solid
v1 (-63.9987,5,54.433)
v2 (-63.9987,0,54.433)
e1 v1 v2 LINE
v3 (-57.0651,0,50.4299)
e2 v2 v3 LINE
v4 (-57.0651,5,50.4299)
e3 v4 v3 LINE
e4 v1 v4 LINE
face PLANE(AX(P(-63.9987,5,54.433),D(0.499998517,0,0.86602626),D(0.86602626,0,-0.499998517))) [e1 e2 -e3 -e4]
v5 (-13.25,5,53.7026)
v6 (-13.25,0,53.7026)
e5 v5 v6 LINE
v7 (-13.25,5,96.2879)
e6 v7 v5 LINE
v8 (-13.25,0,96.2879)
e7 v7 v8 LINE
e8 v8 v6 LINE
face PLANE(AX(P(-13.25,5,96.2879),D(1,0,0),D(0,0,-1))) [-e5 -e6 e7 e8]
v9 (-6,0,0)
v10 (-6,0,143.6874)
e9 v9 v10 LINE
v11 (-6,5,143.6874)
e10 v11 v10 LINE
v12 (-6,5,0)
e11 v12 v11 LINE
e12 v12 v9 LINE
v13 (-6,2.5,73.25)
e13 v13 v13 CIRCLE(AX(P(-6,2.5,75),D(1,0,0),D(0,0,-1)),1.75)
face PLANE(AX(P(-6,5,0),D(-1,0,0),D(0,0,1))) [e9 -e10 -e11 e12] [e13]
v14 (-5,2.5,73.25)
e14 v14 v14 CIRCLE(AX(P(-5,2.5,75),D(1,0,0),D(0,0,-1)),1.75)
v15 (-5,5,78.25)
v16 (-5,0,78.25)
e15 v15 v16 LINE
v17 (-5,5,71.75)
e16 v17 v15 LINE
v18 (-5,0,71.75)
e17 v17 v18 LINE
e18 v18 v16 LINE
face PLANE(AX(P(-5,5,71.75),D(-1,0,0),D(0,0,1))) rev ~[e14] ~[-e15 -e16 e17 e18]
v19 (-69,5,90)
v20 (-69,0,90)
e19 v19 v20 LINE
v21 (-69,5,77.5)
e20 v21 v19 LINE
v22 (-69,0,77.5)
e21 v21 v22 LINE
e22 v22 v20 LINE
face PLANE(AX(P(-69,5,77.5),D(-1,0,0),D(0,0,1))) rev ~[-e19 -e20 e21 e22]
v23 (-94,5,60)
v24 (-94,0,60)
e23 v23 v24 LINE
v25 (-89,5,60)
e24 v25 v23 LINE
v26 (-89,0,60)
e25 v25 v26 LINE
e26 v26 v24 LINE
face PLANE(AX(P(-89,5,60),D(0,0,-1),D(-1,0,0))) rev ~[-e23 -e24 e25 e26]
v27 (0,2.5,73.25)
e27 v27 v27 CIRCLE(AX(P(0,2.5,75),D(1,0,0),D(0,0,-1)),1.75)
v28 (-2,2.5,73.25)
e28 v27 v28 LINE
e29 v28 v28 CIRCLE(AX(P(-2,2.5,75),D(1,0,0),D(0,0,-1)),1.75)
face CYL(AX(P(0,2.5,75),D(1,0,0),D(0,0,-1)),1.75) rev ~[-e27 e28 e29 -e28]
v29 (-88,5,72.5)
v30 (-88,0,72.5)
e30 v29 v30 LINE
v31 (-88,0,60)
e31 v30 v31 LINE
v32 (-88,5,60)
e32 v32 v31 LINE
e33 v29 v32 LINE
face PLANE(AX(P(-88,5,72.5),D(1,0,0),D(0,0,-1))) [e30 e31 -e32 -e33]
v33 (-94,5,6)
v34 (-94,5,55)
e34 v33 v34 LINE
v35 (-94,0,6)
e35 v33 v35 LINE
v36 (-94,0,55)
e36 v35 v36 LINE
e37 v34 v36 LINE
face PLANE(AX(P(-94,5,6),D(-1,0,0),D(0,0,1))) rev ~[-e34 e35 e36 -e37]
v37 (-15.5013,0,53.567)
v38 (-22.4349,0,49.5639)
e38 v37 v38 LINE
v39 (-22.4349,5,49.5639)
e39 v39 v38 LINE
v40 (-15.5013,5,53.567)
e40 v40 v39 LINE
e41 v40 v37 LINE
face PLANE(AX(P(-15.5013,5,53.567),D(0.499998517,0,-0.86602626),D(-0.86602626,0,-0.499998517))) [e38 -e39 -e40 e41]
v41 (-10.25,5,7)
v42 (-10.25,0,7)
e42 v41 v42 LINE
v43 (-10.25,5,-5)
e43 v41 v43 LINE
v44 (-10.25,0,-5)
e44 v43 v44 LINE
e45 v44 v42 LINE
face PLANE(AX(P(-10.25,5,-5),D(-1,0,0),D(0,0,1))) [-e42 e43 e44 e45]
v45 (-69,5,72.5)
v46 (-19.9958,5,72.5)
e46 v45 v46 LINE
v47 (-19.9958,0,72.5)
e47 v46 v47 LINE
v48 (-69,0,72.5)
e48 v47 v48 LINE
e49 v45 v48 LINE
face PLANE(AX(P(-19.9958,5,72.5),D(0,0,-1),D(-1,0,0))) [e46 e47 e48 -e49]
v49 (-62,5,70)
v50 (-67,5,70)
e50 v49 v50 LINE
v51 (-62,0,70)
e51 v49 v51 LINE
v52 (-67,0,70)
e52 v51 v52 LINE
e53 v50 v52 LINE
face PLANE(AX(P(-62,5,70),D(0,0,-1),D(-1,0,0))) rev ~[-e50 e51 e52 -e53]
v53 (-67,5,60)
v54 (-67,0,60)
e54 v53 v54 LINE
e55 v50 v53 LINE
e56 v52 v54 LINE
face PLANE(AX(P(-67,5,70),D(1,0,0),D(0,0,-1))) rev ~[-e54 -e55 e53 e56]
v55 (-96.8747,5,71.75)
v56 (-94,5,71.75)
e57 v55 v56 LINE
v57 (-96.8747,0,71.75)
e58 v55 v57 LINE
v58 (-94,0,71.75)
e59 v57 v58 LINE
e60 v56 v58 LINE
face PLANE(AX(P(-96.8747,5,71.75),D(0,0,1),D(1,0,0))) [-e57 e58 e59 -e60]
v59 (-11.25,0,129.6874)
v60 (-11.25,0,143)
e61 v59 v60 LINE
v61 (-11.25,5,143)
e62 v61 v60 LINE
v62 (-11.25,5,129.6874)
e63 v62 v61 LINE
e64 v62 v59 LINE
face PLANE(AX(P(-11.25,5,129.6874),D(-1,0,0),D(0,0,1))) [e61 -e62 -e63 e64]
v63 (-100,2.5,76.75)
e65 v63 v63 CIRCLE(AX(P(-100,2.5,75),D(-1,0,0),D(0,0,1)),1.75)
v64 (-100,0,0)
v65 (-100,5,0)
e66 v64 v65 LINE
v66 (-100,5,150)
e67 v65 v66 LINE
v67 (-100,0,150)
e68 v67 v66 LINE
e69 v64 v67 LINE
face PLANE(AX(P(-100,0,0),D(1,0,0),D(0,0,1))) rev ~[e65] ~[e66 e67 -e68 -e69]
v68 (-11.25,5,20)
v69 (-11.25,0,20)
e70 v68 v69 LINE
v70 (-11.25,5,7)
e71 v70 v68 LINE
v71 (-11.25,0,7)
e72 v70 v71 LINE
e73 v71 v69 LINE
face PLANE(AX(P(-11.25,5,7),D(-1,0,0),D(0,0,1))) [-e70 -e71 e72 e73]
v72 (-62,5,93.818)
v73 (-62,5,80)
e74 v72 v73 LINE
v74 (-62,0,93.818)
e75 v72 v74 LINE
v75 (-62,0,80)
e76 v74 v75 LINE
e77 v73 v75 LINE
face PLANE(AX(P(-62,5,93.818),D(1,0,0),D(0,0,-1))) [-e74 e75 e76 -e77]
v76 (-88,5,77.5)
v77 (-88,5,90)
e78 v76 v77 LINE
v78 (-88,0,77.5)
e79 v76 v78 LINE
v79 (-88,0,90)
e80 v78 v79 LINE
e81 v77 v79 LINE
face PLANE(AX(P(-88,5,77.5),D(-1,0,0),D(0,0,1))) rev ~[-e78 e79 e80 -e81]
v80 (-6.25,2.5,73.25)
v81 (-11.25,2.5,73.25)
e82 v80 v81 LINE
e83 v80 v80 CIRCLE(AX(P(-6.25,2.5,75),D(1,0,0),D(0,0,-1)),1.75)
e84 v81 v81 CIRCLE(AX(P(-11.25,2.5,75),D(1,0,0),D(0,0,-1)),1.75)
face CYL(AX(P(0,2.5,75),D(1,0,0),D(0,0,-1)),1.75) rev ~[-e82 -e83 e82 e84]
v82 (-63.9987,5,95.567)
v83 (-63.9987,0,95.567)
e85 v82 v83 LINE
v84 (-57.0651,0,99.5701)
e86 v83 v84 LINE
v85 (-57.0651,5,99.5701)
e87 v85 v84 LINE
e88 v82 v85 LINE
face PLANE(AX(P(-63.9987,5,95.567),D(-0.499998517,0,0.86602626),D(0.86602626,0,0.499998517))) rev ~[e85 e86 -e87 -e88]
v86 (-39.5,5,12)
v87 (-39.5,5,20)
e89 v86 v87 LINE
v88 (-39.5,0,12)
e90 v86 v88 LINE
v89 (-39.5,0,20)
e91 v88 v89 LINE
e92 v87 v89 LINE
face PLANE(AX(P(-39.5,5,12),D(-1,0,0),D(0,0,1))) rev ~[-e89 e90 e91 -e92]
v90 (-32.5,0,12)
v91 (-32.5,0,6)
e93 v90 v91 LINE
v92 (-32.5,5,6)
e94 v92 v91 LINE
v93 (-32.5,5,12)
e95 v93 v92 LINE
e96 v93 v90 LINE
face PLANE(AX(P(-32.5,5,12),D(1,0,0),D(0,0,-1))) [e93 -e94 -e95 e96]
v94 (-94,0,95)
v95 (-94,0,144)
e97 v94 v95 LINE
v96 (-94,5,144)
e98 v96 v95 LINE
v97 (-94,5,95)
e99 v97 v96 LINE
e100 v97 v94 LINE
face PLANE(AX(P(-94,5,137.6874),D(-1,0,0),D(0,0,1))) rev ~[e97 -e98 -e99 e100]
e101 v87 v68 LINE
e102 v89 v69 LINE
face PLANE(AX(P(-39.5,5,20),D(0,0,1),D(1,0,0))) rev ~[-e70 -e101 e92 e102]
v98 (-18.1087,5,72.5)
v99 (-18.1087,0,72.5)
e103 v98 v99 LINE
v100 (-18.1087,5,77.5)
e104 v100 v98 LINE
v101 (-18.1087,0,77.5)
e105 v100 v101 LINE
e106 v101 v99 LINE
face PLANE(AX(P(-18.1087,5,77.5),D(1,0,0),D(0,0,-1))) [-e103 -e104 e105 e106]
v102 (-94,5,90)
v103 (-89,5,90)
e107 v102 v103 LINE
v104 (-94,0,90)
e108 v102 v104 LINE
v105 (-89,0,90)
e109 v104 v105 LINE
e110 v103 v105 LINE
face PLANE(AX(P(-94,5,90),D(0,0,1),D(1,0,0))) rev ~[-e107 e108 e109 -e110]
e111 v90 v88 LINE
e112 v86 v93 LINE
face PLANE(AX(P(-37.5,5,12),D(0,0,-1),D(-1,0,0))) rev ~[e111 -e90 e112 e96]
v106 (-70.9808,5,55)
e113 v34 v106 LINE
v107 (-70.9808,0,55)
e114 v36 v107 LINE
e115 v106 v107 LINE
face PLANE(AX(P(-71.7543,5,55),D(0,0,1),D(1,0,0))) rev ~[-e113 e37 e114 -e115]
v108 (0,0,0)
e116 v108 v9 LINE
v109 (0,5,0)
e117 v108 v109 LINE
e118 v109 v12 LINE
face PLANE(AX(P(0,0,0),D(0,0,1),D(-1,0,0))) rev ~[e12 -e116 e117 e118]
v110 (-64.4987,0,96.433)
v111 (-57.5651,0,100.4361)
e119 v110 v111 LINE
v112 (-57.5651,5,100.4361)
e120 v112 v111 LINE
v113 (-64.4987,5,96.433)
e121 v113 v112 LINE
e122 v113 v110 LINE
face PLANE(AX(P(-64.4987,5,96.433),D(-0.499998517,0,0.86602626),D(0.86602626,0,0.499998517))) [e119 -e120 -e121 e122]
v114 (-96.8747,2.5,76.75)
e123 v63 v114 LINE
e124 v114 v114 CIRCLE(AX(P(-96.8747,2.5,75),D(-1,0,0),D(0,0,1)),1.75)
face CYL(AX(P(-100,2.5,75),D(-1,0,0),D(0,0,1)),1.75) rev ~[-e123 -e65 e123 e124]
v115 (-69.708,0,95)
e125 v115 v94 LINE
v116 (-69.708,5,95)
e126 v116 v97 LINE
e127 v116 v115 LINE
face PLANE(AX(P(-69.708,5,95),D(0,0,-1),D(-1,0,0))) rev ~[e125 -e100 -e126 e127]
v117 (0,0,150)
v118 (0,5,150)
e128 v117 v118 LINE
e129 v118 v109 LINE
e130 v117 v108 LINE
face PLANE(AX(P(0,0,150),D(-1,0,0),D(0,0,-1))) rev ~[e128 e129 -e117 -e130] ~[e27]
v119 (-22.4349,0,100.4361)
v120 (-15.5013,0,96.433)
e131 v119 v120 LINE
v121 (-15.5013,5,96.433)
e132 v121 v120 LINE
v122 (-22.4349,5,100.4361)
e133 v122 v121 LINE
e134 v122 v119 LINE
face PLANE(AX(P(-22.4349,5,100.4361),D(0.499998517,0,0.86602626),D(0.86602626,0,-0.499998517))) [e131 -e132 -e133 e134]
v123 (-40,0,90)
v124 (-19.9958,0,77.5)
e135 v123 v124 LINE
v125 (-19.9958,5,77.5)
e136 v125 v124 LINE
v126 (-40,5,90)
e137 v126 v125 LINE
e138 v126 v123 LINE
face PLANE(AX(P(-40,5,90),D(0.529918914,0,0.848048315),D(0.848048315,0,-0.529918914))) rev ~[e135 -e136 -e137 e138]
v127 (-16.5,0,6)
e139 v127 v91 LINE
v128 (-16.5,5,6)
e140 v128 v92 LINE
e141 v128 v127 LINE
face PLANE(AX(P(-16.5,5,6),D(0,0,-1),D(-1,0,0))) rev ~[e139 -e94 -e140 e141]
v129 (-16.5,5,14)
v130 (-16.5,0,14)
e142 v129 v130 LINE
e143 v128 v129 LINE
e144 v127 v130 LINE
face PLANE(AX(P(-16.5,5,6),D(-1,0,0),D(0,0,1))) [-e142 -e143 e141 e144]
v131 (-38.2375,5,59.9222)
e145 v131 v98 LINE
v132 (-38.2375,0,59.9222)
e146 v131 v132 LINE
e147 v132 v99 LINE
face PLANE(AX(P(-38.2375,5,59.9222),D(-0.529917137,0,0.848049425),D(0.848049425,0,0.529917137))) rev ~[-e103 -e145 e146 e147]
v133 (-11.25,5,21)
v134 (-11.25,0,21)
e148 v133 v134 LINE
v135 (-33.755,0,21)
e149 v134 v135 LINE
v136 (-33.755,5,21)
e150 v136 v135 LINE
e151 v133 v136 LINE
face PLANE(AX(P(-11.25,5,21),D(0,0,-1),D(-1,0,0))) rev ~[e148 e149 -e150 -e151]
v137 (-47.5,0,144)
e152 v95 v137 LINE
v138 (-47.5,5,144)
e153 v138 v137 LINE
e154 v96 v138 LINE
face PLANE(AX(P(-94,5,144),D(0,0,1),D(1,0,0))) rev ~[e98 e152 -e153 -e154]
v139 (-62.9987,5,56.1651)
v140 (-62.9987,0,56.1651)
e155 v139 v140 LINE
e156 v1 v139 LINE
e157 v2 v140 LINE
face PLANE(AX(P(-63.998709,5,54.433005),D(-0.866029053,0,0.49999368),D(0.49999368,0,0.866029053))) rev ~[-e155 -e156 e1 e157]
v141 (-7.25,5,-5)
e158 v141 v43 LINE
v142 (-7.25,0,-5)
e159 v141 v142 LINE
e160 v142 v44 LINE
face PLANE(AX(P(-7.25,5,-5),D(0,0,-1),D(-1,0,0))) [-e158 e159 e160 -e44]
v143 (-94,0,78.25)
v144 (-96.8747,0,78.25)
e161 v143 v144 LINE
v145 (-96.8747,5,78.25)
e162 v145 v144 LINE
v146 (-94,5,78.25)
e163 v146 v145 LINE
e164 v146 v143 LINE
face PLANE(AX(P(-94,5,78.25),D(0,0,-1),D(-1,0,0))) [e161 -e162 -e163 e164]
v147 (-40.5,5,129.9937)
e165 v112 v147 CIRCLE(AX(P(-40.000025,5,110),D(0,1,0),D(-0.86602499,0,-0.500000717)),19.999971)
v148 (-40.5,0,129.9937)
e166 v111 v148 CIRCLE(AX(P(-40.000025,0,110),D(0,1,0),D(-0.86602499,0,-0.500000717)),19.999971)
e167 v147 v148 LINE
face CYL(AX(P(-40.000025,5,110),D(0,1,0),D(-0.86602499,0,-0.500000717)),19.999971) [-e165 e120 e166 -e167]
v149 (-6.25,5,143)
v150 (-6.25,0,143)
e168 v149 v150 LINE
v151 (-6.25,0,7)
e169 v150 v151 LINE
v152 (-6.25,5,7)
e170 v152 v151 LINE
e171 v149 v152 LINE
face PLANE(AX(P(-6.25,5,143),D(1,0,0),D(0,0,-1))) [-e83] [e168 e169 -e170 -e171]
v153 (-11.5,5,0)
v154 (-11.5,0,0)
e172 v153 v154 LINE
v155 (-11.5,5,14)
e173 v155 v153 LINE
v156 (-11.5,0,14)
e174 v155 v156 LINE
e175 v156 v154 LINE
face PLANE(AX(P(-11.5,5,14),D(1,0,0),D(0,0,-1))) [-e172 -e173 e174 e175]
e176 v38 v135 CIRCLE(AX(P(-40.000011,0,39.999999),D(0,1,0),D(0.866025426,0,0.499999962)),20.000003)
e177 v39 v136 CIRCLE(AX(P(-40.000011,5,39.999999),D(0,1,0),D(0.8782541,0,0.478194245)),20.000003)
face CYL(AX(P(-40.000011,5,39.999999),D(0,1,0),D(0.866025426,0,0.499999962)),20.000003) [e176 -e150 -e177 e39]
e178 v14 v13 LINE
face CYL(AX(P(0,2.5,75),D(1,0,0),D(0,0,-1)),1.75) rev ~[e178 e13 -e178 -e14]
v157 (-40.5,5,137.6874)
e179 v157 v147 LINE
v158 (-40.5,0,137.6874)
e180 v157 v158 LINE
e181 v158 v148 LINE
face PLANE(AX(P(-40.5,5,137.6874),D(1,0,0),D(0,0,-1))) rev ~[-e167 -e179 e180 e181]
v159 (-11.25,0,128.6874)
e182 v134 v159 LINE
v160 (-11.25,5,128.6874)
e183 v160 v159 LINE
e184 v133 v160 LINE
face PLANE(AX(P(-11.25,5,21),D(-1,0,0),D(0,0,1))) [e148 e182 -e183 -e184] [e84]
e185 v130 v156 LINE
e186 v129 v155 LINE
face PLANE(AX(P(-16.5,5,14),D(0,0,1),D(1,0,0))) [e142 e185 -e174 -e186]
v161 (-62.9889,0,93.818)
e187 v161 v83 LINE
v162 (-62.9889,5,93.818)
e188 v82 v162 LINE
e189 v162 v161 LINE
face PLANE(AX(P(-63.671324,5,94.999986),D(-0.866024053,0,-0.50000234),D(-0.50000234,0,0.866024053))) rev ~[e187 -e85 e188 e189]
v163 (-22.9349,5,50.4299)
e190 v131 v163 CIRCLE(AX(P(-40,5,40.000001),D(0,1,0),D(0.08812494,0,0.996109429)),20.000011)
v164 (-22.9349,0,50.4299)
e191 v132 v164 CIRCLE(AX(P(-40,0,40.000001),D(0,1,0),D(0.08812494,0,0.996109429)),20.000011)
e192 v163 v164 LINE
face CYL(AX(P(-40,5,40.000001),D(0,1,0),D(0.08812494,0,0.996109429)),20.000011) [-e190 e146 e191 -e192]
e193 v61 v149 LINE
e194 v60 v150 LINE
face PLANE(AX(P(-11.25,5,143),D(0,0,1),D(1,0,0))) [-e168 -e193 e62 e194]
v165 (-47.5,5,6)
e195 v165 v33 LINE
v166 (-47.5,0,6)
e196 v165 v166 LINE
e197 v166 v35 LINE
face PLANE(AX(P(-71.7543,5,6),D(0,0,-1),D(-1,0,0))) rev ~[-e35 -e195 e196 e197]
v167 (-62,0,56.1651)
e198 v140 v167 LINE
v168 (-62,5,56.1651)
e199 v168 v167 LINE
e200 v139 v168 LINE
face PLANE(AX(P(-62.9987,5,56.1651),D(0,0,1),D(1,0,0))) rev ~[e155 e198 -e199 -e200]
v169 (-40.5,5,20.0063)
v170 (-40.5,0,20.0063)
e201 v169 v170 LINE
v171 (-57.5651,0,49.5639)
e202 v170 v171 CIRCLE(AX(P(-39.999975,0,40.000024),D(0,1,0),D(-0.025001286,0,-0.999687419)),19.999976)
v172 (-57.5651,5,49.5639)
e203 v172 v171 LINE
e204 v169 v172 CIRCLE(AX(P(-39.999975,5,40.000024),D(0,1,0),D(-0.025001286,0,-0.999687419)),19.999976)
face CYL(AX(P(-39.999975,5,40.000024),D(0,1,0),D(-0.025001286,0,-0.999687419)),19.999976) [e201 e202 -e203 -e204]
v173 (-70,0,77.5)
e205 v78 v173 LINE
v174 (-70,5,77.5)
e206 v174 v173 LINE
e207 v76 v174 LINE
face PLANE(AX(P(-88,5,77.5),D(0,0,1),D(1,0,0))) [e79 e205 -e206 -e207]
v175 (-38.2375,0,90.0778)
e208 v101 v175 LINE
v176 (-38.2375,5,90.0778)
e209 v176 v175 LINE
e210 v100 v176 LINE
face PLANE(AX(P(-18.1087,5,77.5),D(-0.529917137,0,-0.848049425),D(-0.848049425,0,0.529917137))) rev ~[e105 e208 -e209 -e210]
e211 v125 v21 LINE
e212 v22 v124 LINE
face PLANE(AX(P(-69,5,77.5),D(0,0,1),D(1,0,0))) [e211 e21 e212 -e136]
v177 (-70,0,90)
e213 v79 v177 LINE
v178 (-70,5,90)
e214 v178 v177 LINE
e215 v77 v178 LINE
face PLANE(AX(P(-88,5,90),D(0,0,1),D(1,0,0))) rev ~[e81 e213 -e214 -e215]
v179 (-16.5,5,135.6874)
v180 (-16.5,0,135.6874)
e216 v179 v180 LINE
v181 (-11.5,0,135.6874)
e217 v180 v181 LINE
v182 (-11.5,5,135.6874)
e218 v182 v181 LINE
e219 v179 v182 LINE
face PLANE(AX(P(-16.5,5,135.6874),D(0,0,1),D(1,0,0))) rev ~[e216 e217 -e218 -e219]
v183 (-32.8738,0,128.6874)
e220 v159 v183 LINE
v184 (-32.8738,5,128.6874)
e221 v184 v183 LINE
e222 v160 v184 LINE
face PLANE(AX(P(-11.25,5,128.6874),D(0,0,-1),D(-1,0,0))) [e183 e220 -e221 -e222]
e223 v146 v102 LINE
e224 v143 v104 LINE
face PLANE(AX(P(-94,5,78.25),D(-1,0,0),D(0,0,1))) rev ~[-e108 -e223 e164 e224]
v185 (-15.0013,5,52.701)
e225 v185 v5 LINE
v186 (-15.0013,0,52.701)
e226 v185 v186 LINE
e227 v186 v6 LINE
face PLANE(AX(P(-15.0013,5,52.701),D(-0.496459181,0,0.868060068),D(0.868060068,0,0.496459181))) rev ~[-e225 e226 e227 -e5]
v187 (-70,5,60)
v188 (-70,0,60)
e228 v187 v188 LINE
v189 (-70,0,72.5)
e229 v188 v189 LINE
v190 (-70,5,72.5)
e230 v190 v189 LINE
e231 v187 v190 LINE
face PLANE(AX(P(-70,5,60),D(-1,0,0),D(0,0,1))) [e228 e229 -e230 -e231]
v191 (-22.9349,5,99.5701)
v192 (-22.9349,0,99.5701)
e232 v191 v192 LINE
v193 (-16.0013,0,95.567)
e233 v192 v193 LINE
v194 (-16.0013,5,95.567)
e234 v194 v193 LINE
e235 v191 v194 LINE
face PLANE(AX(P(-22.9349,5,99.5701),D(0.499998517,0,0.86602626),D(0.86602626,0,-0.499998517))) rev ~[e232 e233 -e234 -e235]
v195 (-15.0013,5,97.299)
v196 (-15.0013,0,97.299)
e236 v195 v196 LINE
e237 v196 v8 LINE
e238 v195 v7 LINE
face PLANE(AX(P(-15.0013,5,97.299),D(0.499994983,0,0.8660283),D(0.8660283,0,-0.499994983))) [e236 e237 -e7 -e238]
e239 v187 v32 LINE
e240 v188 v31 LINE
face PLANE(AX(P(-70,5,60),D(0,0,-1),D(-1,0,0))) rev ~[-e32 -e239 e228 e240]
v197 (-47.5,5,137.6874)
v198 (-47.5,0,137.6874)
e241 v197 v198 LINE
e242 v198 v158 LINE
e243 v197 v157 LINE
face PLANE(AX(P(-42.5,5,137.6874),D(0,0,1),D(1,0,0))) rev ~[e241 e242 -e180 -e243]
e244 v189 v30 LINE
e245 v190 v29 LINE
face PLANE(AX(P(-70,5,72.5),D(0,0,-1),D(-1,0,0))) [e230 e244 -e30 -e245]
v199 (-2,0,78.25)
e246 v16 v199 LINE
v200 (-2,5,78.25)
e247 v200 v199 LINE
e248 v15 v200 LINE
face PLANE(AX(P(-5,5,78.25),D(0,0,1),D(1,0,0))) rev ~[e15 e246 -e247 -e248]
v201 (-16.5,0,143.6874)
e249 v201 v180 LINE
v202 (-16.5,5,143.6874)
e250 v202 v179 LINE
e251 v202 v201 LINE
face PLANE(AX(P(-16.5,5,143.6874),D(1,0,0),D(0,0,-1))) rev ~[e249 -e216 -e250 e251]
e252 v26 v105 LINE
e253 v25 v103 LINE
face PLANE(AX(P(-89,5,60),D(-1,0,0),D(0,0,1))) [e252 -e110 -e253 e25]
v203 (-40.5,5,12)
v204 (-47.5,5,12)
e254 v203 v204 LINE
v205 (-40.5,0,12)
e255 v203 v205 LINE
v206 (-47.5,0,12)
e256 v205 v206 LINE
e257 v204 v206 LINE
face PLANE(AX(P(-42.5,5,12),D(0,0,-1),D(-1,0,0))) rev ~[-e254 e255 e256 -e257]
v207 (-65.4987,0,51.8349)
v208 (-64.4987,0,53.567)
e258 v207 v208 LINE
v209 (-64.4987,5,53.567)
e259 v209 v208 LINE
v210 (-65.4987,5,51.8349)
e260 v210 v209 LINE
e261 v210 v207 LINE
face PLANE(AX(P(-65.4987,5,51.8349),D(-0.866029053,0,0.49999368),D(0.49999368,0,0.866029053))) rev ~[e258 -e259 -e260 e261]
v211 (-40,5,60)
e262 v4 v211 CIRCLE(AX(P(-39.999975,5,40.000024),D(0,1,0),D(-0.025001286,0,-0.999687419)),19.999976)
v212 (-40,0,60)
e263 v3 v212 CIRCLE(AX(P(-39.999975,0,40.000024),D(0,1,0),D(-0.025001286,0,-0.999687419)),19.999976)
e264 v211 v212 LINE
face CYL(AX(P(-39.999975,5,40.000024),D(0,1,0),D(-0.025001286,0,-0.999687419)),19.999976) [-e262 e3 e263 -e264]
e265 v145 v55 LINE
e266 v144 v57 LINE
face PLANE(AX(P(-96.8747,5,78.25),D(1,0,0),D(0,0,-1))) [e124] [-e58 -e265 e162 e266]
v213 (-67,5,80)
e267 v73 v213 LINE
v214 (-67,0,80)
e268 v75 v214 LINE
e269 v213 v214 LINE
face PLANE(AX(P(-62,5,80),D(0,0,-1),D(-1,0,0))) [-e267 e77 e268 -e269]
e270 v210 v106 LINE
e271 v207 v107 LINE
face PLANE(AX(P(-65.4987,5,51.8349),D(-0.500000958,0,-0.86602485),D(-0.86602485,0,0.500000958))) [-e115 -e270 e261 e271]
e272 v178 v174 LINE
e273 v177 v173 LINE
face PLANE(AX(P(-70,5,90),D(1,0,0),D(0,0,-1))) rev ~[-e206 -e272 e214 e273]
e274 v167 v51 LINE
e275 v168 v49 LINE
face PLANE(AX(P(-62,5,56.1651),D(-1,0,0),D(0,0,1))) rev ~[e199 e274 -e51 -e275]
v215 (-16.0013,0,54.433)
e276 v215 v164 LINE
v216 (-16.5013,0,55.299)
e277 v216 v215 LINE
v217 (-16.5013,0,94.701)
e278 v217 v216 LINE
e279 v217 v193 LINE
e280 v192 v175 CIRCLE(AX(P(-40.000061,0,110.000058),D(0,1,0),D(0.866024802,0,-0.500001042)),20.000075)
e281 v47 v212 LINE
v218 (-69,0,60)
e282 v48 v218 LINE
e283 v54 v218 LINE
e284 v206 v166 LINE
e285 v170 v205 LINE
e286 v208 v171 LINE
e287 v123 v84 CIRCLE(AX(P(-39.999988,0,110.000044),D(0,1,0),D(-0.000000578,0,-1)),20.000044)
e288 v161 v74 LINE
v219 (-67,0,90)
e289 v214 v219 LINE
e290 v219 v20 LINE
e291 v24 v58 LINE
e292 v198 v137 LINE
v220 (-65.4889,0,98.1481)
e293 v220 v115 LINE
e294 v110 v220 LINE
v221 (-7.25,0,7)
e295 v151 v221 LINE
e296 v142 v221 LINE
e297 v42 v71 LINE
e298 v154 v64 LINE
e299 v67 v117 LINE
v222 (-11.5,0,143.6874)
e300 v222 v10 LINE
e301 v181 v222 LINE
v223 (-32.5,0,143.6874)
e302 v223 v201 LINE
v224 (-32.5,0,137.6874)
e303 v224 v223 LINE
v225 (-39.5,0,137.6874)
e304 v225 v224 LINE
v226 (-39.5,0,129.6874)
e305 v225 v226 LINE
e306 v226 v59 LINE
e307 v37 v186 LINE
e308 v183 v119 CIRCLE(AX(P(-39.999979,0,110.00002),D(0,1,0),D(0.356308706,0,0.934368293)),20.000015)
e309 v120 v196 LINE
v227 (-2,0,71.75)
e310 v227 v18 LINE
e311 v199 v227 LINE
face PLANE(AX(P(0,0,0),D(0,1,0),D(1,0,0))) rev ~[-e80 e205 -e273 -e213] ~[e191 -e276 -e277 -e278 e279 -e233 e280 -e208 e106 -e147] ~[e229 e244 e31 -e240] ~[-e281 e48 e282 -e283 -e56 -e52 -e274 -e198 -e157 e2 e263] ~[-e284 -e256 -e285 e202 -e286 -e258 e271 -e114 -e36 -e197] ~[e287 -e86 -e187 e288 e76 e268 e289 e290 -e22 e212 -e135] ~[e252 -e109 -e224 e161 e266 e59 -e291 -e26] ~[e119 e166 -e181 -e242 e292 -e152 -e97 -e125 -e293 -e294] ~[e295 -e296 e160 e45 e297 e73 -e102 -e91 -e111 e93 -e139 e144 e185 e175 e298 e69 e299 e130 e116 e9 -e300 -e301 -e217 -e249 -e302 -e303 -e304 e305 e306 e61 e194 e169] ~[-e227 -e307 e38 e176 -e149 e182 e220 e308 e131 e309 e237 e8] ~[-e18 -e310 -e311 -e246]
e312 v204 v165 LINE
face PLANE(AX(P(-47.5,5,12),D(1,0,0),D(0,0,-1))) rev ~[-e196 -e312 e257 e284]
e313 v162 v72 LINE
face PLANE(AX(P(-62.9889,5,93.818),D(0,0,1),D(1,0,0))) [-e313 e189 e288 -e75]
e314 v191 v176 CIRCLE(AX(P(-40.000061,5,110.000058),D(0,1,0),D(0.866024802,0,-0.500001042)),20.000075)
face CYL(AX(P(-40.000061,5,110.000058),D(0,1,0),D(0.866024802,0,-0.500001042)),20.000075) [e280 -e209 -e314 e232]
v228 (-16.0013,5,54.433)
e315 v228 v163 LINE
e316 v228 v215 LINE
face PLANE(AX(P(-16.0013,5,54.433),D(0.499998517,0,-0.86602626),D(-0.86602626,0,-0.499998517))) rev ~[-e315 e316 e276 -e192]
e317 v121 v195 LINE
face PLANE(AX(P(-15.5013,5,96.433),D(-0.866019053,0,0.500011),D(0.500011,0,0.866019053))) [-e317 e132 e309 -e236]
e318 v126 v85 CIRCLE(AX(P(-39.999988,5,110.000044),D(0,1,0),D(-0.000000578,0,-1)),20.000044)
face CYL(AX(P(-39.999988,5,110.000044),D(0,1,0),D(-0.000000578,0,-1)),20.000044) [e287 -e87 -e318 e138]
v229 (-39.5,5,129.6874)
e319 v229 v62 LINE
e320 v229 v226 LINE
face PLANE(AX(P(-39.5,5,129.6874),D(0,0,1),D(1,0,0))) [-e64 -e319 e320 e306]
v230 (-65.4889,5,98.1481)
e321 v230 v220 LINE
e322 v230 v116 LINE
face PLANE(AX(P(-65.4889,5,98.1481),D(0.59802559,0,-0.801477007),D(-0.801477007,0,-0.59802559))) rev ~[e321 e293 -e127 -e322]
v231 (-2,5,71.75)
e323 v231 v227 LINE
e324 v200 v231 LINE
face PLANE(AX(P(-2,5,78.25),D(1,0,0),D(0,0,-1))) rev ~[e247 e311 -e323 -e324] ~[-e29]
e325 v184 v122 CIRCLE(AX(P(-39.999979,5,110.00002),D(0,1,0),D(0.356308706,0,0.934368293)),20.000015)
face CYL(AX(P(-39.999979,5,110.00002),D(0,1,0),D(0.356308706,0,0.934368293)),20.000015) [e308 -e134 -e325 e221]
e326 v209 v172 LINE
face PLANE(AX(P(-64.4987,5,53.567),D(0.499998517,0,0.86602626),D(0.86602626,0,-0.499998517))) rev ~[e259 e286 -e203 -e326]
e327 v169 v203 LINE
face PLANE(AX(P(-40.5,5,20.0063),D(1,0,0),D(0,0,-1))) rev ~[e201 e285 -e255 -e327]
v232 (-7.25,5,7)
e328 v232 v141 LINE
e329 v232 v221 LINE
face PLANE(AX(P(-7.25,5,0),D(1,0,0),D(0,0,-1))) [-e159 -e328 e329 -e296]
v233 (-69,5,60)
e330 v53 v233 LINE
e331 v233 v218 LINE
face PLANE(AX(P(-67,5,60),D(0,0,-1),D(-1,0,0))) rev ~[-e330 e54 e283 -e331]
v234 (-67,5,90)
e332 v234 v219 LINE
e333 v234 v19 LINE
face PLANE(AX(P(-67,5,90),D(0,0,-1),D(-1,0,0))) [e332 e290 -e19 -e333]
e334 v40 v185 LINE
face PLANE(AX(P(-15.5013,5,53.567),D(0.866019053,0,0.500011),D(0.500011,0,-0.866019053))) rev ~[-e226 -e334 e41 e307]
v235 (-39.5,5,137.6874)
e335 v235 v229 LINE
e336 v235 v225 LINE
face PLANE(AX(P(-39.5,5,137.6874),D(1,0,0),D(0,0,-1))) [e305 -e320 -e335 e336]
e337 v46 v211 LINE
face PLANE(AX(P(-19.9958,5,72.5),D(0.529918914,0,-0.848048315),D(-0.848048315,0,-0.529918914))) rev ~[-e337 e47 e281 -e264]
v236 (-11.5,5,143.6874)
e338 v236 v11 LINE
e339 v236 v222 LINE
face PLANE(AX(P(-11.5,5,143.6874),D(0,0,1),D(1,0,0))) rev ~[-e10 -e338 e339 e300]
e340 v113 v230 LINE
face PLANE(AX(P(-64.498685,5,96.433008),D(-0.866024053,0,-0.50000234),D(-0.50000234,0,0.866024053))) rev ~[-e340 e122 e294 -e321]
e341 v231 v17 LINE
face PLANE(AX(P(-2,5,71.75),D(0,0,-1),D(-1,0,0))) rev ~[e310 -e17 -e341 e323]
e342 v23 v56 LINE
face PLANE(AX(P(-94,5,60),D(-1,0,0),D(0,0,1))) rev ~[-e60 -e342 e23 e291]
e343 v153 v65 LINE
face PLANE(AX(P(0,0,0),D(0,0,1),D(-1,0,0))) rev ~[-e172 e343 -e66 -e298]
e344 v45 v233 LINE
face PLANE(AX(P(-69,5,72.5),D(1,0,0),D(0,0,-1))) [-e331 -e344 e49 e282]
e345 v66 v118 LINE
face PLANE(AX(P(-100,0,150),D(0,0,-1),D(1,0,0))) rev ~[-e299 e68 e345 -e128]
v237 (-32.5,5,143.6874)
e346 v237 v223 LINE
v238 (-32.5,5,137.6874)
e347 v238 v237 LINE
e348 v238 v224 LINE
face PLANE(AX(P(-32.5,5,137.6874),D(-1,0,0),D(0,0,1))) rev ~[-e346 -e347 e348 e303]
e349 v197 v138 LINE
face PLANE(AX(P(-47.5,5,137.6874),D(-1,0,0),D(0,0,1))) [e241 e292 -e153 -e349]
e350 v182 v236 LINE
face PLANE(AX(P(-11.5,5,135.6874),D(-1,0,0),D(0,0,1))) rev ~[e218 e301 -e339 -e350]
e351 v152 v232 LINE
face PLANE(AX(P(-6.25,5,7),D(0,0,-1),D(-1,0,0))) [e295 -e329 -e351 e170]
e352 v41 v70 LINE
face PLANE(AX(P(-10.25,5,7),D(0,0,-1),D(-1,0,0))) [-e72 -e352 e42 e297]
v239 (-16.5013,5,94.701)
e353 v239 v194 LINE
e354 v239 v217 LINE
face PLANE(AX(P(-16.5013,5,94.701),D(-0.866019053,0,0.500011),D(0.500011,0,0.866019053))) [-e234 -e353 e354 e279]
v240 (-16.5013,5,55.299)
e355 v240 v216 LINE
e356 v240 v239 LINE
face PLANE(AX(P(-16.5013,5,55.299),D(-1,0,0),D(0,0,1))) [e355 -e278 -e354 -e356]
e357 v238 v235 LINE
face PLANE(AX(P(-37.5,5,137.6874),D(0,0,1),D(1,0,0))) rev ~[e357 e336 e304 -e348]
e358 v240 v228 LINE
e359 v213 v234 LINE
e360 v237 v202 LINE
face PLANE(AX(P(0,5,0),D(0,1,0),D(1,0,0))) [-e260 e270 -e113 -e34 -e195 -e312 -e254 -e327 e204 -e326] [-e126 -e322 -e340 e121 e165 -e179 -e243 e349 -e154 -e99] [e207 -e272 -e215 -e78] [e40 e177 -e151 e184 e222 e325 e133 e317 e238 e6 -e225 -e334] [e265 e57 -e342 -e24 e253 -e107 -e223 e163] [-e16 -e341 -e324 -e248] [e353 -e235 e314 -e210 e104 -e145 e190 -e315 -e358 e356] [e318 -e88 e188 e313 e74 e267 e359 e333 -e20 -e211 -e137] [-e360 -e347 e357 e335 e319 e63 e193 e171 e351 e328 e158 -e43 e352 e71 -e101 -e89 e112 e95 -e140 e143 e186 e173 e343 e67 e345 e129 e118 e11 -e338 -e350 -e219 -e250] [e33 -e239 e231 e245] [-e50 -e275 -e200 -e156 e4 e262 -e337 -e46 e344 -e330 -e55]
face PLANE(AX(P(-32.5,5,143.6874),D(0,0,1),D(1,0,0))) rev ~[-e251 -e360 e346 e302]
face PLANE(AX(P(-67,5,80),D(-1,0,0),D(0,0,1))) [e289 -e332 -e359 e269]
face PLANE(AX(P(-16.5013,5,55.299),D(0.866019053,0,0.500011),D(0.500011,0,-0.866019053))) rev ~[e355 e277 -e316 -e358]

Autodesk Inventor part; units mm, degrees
ref_plane "YZ Plane" through (0, 0, 0) normal (1, 0, 0) x (0, 1, 0)
ref_plane "XZ Plane" through (0, 0, 0) normal (0, 1, 0) x (-1, 0, 0)
ref_plane "XY Plane" through (0, 0, 0) normal (0, 0, 1) x (1, 0, 0)
sketch "Sketch1" plane through (0, 0, 0) normal (0, 1, 0) x (-1, 0, 0)
  line L0 (0, 0) -> (100, 0)
  line L1 (100, 0) -> (100, 150)
  line L2 (100, 150) -> (0, 150)
  line L3 (0, 150) -> (0, 0)
  dimension "d0" = 150
  dimension "d1" = 100
extrude "Extrusion1" add sketch "Sketch1" along normal blind 5
sketch "Sketch6" plane through (0, 5, 0) normal (0, 1, 0) x (1, 0, 0)
  line L0 (0, 0) -> (-5, 0)
  line L1 (-100, 0) -> (-100, -150) projected
  line L2 (-6, -143.6874) -> (-6, -6)
  line L3 (0, -150) -> (0, 0) projected
  line L4 (-100, -150) -> (0, -150) projected
  line L5 (0, 0) -> (-100, 0) projected
  line L6 (-11.5, -143.6874) -> (-16.5, -143.6874)
  line L7 (-16.5, -143.6874) -> (-16.5, -135.6874)
  line L8 (-16.5, -135.6874) -> (-11.5, -135.6874)
  line L9 (-11.5, -135.6874) -> (-11.5, -143.6874)
  line L10 (-11.25, -143) -> (-6.25, -143)
  line L11 (-6.25, -143) -> (-6.25, -7)
  line L12 (-6.25, -7) -> (-11.25, -7)
  line L13 (-11.5, -6) -> (-16.5, -6)
  line L14 (-16.5, -6) -> (-16.5, -14)
  line L15 (-16.5, -14) -> (-11.5, -14)
  line L16 (-11.5, -14) -> (-11.5, -6)
  line L17 (-11.5, -6) -> (-11.5, 0)
  line L18 (-6, 0) -> (-6, -6)
  line L19 (-100, 0) -> (-100, -150)
  line L20 (-100, -150) -> (0, -150)
  line L21 (0, -150) -> (0, 0)
  line L22 (0, 0) -> (-6, 0)
  line L23 (-11.5, 0) -> (-100, 0)
  line L24 (-10.25, -7) -> (-7.25, -7)
  line L25 (-7.25, -7) -> (-7.25, 13)
  line L26 (-7.25, 13) -> (-10.25, 13)
  line L27 (-10.25, 13) -> (-10.25, -7)
  line L28 (-11.25, -129.1874) -> (-33.5419, -129.1874)
  line L29 (-40, -20) -> (-11.25, -20)
  line L30 (-11.25, -21) -> (-33.755, -21)
  line L31 (-40, -90) -> (-19.9958, -77.5)
  line L32 (-19.9958, -72.5) -> (-40, -60)
  line L33 (-38.2375, -59.9222) -> (-18.1087, -72.5)
  line L34 (-18.1087, -77.5) -> (-38.2375, -90.0778)
  arc A0 (-40.5, -20.0063) -> (-40, -60) centre (-40, -40) ccw
  line L35 (-11.25, -129.6874) -> (-11.25, -143)
  line L36 (-11.25, -7) -> (-11.25, -20)
  line L37 (-11.25, -21) -> (-11.25, -128.6874)
  line L38 (-19.9958, -72.5) -> (-89, -72.5)
  line L39 (-89, -72.5) -> (-89, -77.5)
  line L40 (-89, -77.5) -> (-19.9958, -77.5)
  line L41 (-94, -55) -> (-69, -55)
  line L42 (-69, -55) -> (-69, -60)
  line L43 (-69, -60) -> (-94, -60)
  line L44 (-94, -60) -> (-94, -55)
  line L45 (-94, -90) -> (-69, -90)
  line L46 (-69, -90) -> (-69, -95)
  line L47 (-69, -95) -> (-94, -95)
  line L48 (-94, -95) -> (-94, -90)
  line L49 (-40, -90) -> (-40, -77.5)
  line L50 (-40, -72.5) -> (-40, -60)
  line L51 (-89, -77.5) -> (-88, -77.5)
  line L52 (-88, -77.5) -> (-88, -90)
  line L53 (-88, -90) -> (-89, -90)
  line L54 (-89, -90) -> (-89, -77.5)
  line L55 (-89, -72.5) -> (-88, -72.5)
  line L56 (-88, -72.5) -> (-88, -60)
  line L57 (-88, -60) -> (-89, -60)
  line L58 (-89, -60) -> (-89, -72.5)
  line L59 (-69, -90) -> (-70, -90)
  line L60 (-70, -90) -> (-70, -77.5)
  line L61 (-70, -77.5) -> (-69, -77.5)
  line L62 (-69, -77.5) -> (-69, -90)
  line L63 (-69, -60) -> (-70, -60)
  line L64 (-70, -60) -> (-70, -72.5)
  line L65 (-70, -72.5) -> (-69, -72.5)
  line L66 (-69, -72.5) -> (-69, -60)
  line L67 (-69, -95) -> (-67, -95)
  line L68 (-67, -95) -> (-67, -90)
  line L69 (-67, -90) -> (-69, -90)
  line L70 (-69, -90) -> (-69, -95)
  line L71 (-67, -95) -> (-63.6713, -95)
  line L72 (-62, -95) -> (-62, -80)
  line L73 (-62, -80) -> (-67, -80)
  line L74 (-67, -80) -> (-67, -95)
  line L75 (-69, -55) -> (-67, -55)
  line L76 (-67, -55) -> (-67, -60)
  line L77 (-67, -60) -> (-69, -60)
  line L78 (-69, -60) -> (-69, -55)
  line L79 (-67, -55) -> (-62, -55)
  line L80 (-62, -55) -> (-62, -70)
  line L81 (-62, -70) -> (-67, -70)
  line L82 (-67, -70) -> (-67, -55)
  line L83 (-40, -110) -> (-16.022, -96.1563)
  line L84 (-40, -110) -> (-63.978, -96.1563)
  line L85 (-40, -110) -> (-40, -137.6874)
  line L86 (-20, -110) -> (-27.0715, -110)
  line L87 (-16.5013, -94.701) -> (-15.0013, -97.299)
  line L88 (-15.0013, -97.299) -> (-13.25, -96.2879)
  line L89 (-13.25, -96.2879) -> (-13.25, -53.7026)
  line L90 (-22.4349, -100.4361) -> (-15.5013, -96.433)
  line L91 (-22.9349, -99.5701) -> (-16.0013, -95.567)
  line L92 (-40, -40) -> (-15.7513, -54)
  line L93 (-40, -40) -> (-40, -12)
  line L94 (-40, -40) -> (-64.2487, -54)
  line L95 (-20, -40) -> (-22.9877, -40)
  line L96 (-16.5013, -55.299) -> (-15.0013, -52.701)
  line L97 (-16.5013, -55.299) -> (-16.5013, -71.9669)
  line L98 (-15.0013, -52.701) -> (-13.25, -53.7026)
  line L99 (-16.0013, -54.433) -> (-22.9349, -50.4299)
  line L100 (-15.5013, -53.567) -> (-22.4349, -49.5639)
  line L101 (-18.1087, -77.5) -> (-18.1087, -72.5)
  line L102 (-16.5013, -94.701) -> (-16.5013, -72.5)
  line L103 (-16.5013, -72.5) -> (-16.5013, -71.9669)
  line L104 (-40.5, -137.6874) -> (-40.5, -129.9937)
  line L105 (-39.5, -137.6874) -> (-39.5, -129.6874)
  arc A1 (-32.8738, -128.6874) -> (-22.4349, -100.4361) centre (-40, -110) ccw
  arc A2 (-22.6795, -100) -> (-38.2375, -90.0778) centre (-40, -110) ccw
  line L106 (-43.25, -138.6874) -> (-43.25, -142)
  line L107 (-36.75, -138.6874) -> (-36.75, -142)
  line L108 (-40.5, -20.0063) -> (-40.5, -12)
  arc A3 (-38.2375, -59.9222) -> (-22.9349, -50.4299) centre (-40, -40) ccw
  arc A4 (-22.6795, -50) -> (-33.755, -21) centre (-40, -40) ccw
  line L109 (-39.5, -12) -> (-39.5, -20)
  line L110 (-43.25, -11) -> (-43.25, -8)
  line L111 (-36.75, -11) -> (-36.75, -8)
  line L112 (-62.9889, -93.818) -> (-65.4889, -98.1481)
  line L113 (-64.4987, -96.433) -> (-57.5651, -100.4361)
  line L114 (-63.9987, -95.567) -> (-57.0651, -99.5701)
  arc A5 (-40, -90) -> (-57.0651, -99.5701) centre (-40, -110) ccw
  arc A6 (-57.3205, -100) -> (-40.3935, -129.9961) centre (-40, -110) ccw
  line L115 (-65.4889, -98.1481) -> (-69.708, -95)
  line L116 (-62.9889, -93.818) -> (-62, -93.818)
  line L117 (-65.4987, -51.8349) -> (-62.9987, -56.1651)
  line L118 (-63.9987, -54.433) -> (-57.0651, -50.4299)
  line L119 (-64.4987, -53.567) -> (-57.5651, -49.5639)
  line L120 (-65.4987, -51.8349) -> (-70.9808, -55)
  line L121 (-62.9987, -56.1651) -> (-62, -56.1651)
  line L122 (-37.5, -137.6874) -> (-32.5, -137.6874)
  line L123 (-32.5, -137.6874) -> (-32.5, -143.6874)
  line L124 (-36.75, -142) -> (-36.75, -138.6874)
  line L125 (-42.5, -137.6874) -> (-47.5, -137.6874)
  line L126 (-47.5, -137.6874) -> (-47.5, -144)
  line L127 (-43.25, -142) -> (-43.25, -138.6874)
  line L128 (-37.5, -12) -> (-32.5, -12)
  line L129 (-32.5, -12) -> (-32.5, -6)
  line L130 (-36.75, -8) -> (-36.75, -11)
  line L131 (-42.5, -12) -> (-47.5, -12)
  line L132 (-47.5, -12) -> (-47.5, -6)
  line L133 (-43.25, -8) -> (-43.25, -11)
  line L134 (-43.25, -138.6874) -> (-36.75, -138.6874)
  line L135 (-36.75, -11) -> (-43.25, -11)
  line L136 (-47.5, -6) -> (-94, -6)
  line L137 (-11.5, -6) -> (-32.5, -6)
  line L138 (-36.75, -8) -> (-43.25, -8)
  line L139 (-32.5, -143.6874) -> (-6, -143.6874)
  line L140 (-94, -144) -> (-47.5, -144)
  line L141 (-43.25, -142) -> (-36.75, -142)
  line L142 (-42.5, -137.6874) -> (-40.5, -137.6874)
  line L143 (-40, -137.6874) -> (-37.5, -137.6874)
  line L144 (-37.5, -12) -> (-39.5, -12)
  line L145 (-40.5, -12) -> (-42.5, -12)
  line L146 (-39.5, -129.6874) -> (-11.25, -129.6874)
  line L147 (-43.25, -6) -> (-36.75, -6)
  line L148 (-36.75, -6) -> (-36.75, -3)
  line L149 (-36.75, -3) -> (-43.25, -3)
  line L150 (-43.25, -3) -> (-43.25, -6)
  line L151 (-43.25, -144) -> (-36.75, -144)
  line L152 (-36.75, -144) -> (-36.75, -147)
  line L153 (-36.75, -147) -> (-43.25, -147)
  line L154 (-43.25, -147) -> (-43.25, -144)
  line L155 (-40, -150) -> (-40, -149.019)
  line L156 (-40, 0) -> (-40, -1.9202)
  line L157 (-94, -78.25) -> (-96.8747, -78.25)
  line L158 (-96.8747, -78.25) -> (-96.8747, -71.75)
  line L159 (-96.8747, -71.75) -> (-94, -71.75)
  line L160 (-94, -71.75) -> (-94, -72.5)
  line L161 (-94, -77.5) -> (-94, -78.25)
  line L162 (-94, -6) -> (-94, -71.75)
  line L163 (-94, -78.25) -> (-94, -144)
  line L164 (-47.5, -137.6874) -> (-94, -137.6874)
  line L165 (-70.75, -95) -> (-70.75, -137.6874)
  line L166 (-71.7543, -55) -> (-71.7543, -6)
  line L167 (-47.5, -12) -> (-71.7543, -12)
  line L168 (-11.25, -128.6874) -> (-32.8738, -128.6874)
  point P0 (-89, -75)
  point P1 (-14, -14)
  point P2 (-69, -92.5)
  point P3 (-15.7513, -96)
  point P4 (-15.7513, -54)
  point P5 (-64.2389, -95.983)
  point P6 (-88, -77.5)
  point P7 (-69, -72.5)
  point P8 (-63.6714, -55)
  point P9 (-10.25, 0)
  point P10 (-7.25, 0)
  point P11 (-36.75, -145.5)
  point P12 (-12, -136)
  point P13 (-11.5, -143)
  point P14 (-40, -129.9961)
  point P15 (-39, -138)
  point P16 (-64.2487, -96)
  point P17 (-16.5013, -72.3253)
  point P18 (-16.5013, -77.6747)
  dimension "d266" = 6.5
  dimension "d89" = 6
  dimension "d94" = 136
  dimension "d96" = 8
  dimension "d97" = 5
  dimension "d98" = 5.5
  dimension "d100" = 5
  dimension "d101" = 5.5
  dimension "d103" = 3
  dimension "d104" = 20
  dimension "d106" = 0.25
  dimension "d112" = 40
  dimension "d113" = 40
  dimension "d117" = 1
  dimension "d118" = 1
  dimension "d119" = 1
  dimension "d124" = 25
  dimension "d125" = 30
  dimension "d126" = 5
  dimension "d127" = 5
  dimension "d128" = 40
  dimension "d129" = 55
  dimension "d131" = 20
  dimension "d134" = 1
  dimension "d135" = 1
  dimension "d138" = 58
  dimension "d139" = 58
  dimension "d140" = 58
  dimension "d141" = 58
  dimension "d142" = 15
  dimension "d145" = 8
  dimension "d150" = 1
  dimension "d151" = 1
  dimension "d153" = 2
  dimension "d154" = 2
  dimension "d155" = 5
  dimension "d156" = 5
  dimension "d157" = 15
  dimension "d158" = 15
  dimension "d159" = 40
  dimension "d160" = 40
  dimension "d161" = 0
  dimension "d162" = 5
  dimension "d167" = 360
  dimension "d169" = 30
  dimension "d171" = 2
  dimension "d172" = 5
  dimension "d173" = 3
  dimension "d175" = 1.5
  dimension "d176" = 1
  dimension "d177" = 0.5
  dimension "d178" = 0.5
  dimension "d179" = 28
  dimension "d180" = 0
  dimension "d181" = 28
  dimension "d184" = 360
  dimension "d186" = 30
  dimension "d187" = 3
  dimension "d188" = 1.5
  dimension "d189" = 1
  dimension "d190" = 0.5
  dimension "d192" = 0
  dimension "d193" = 0
  dimension "d194" = 5
  dimension "d195" = 2.5
extrude "Extrusion6" cut sketch "Sketch6" against normal blind 10 contours L18 L2 L139 L9 L8 L7 L123 L122 L143 L105 L146 L35 L10 L11 L12 L25 L5 | L27 L12 L36 L29 L109 L144 L128 L129 L137 L14 L15 L16 L17 L5 | A4 L30 L37 L168 A1 L90 L87 L88 L89 L98 L96 L100 | L119 L117 L120 L41 L166 L167 L131 L145 L108 A0 | A0 L50 L38 L66 L77 L82 L81 L80 L79 L117 L118 | L96 L97 L103 L102 L87 L91 A2 L34 L101 L33 A3 L99 | L32 L38 L50 | L79 L80 L121 L117 | A6 L104 L142 L125 L164 L165 L47 L115 L112 L113 | L167 L166 L136 L132 | L41 L162 L136 L166 | L38 L56 L43 L64 | L112 L116 L72 L73 L74 L69 L62 L40 L49 A5 L114 | L43 L58 L39 L54 L45 L163 L157 L158 L159 L162 | L49 L40 L31 | L165 L164 L163 L47 | L126 L140 L163 L164 | L40 L60 L45 L52
sketch "Sketch7" plane through (0, 5, 0) normal (0, 1, 0) x (1, 0, 0)
  line L0 (-10.25, -7) -> (-10.25, 0) projected
  line L1 (-10.25, 0) -> (-7.25, 0)
  line L2 (-7.25, 0) -> (-7.25, 5)
  line L3 (-7.25, 5) -> (-10.25, 5)
  line L4 (-10.25, 5) -> (-10.25, 0)
  point P0 (0, 0)
  dimension "d253" = 5
extrude "Extrusion7" add sketch "Sketch7" against normal blind 5
sketch "Sketch9" plane through (0, 5, 0) normal (0, 1, 0) x (1, 0, 0)
  line L0 (-5, -78.25) -> (-2, -78.25)
  line L1 (-2, -78.25) -> (-2, -71.75)
  line L2 (-2, -71.75) -> (-5, -71.75)
  line L3 (-5, -71.75) -> (-5, -78.25)
  line L4 (0, -150) -> (0, 0) projected
  line L5 (-6, 0) -> (-6, -143.6874) projected
  line L6 (0, 0) -> (-6, 0) projected
  line L7 (-100, -150) -> (0, -150) projected
  line L8 (-16.5013, -94.701) -> (-16.5013, -77.6747) projected
  line L9 (-16.5013, -79.3479) -> (-17.3228, -79.3479)
  line L10 (-17.3228, -79.3479) -> (-17.3228, -70.2922)
  line L11 (-17.3228, -70.2922) -> (-16.5013, -70.2922)
  line L12 (-16.5013, -70.2922) -> (-16.5013, -79.3479)
  point P0 (-7.25, 0)
  dimension "d265" = 3
  dimension "d266" = 6.5
  dimension "d267" = 6
  dimension "d268" = 1
  dimension "d269" = 150
  dimension "d270" = 71.75
extrude "Extrusion9" cut sketch "Sketch9" against normal blind 10
sketch "Sketch10" plane through (0, 0, 150) normal (1, 0, 0) x (0, 0, -1)
  circle A0 centre (75, 2.5) radius 1.75
  line L0 (0, 0) -> (0, 5) projected
  line L1 (0, 0) -> (150, 0) projected
  line L2 (0, 5) -> (150, 5) projected
  dimension "d273" = 75
  dimension "d274" = 3.5
  dimension "d275" = 2.5
  dimension "d276" = 5
extrude "Extrusion10" cut sketch "Sketch10" against normal blind 12
sketch "Sketch11" plane through (-100, 0, 0) normal (-1, 0, 0) x (0, 0, 1)
  circle A0 centre (75, 2.5) radius 1.75
  line L0 (0, 5) -> (150, 5) projected
  line L1 (0, 0) -> (150, 0) projected
  line L2 (150, 0) -> (150, 5) projected
  dimension "d279" = 5
  dimension "d280" = 2.5
  dimension "d281" = 3.5
  dimension "d282" = 75
extrude "Extrusion11" cut sketch "Sketch11" against normal blind 8
equation "\"d2\" = woodThickness"
equation "\"d96\" = d145"
equation "\"d98\" = d101"
equation "\"d113\" = d112"
equation "\"d117\" = bladeThickness"
equation "\"d118\" = d116"
equation "\"d119\" = bladeThickness"
equation "\"d127\" = d126"
equation "\"d134\" = bladeThickness"
equation "\"d142\" = 0.5 * d125"
equation "\"bladeThickness\" = 1"
equation "\"woodThickness\" = 5"
equation "\"bladeLenghtFlexRatio\" = 0.05"
equation "\"colRadius\" = 3"
equation "\"d14\" = bladeThickness"
equation "\"d16\" = d14"
equation "\"d19\" = d16"
equation "\"d116\" = bladeThickness"
equation "\"d121\" = d120"
equation "\"M3Hole\" = 3"
equation "\"d120\" = 65deg"
properties part number "FlexBloc" material "Steel, Mild"
